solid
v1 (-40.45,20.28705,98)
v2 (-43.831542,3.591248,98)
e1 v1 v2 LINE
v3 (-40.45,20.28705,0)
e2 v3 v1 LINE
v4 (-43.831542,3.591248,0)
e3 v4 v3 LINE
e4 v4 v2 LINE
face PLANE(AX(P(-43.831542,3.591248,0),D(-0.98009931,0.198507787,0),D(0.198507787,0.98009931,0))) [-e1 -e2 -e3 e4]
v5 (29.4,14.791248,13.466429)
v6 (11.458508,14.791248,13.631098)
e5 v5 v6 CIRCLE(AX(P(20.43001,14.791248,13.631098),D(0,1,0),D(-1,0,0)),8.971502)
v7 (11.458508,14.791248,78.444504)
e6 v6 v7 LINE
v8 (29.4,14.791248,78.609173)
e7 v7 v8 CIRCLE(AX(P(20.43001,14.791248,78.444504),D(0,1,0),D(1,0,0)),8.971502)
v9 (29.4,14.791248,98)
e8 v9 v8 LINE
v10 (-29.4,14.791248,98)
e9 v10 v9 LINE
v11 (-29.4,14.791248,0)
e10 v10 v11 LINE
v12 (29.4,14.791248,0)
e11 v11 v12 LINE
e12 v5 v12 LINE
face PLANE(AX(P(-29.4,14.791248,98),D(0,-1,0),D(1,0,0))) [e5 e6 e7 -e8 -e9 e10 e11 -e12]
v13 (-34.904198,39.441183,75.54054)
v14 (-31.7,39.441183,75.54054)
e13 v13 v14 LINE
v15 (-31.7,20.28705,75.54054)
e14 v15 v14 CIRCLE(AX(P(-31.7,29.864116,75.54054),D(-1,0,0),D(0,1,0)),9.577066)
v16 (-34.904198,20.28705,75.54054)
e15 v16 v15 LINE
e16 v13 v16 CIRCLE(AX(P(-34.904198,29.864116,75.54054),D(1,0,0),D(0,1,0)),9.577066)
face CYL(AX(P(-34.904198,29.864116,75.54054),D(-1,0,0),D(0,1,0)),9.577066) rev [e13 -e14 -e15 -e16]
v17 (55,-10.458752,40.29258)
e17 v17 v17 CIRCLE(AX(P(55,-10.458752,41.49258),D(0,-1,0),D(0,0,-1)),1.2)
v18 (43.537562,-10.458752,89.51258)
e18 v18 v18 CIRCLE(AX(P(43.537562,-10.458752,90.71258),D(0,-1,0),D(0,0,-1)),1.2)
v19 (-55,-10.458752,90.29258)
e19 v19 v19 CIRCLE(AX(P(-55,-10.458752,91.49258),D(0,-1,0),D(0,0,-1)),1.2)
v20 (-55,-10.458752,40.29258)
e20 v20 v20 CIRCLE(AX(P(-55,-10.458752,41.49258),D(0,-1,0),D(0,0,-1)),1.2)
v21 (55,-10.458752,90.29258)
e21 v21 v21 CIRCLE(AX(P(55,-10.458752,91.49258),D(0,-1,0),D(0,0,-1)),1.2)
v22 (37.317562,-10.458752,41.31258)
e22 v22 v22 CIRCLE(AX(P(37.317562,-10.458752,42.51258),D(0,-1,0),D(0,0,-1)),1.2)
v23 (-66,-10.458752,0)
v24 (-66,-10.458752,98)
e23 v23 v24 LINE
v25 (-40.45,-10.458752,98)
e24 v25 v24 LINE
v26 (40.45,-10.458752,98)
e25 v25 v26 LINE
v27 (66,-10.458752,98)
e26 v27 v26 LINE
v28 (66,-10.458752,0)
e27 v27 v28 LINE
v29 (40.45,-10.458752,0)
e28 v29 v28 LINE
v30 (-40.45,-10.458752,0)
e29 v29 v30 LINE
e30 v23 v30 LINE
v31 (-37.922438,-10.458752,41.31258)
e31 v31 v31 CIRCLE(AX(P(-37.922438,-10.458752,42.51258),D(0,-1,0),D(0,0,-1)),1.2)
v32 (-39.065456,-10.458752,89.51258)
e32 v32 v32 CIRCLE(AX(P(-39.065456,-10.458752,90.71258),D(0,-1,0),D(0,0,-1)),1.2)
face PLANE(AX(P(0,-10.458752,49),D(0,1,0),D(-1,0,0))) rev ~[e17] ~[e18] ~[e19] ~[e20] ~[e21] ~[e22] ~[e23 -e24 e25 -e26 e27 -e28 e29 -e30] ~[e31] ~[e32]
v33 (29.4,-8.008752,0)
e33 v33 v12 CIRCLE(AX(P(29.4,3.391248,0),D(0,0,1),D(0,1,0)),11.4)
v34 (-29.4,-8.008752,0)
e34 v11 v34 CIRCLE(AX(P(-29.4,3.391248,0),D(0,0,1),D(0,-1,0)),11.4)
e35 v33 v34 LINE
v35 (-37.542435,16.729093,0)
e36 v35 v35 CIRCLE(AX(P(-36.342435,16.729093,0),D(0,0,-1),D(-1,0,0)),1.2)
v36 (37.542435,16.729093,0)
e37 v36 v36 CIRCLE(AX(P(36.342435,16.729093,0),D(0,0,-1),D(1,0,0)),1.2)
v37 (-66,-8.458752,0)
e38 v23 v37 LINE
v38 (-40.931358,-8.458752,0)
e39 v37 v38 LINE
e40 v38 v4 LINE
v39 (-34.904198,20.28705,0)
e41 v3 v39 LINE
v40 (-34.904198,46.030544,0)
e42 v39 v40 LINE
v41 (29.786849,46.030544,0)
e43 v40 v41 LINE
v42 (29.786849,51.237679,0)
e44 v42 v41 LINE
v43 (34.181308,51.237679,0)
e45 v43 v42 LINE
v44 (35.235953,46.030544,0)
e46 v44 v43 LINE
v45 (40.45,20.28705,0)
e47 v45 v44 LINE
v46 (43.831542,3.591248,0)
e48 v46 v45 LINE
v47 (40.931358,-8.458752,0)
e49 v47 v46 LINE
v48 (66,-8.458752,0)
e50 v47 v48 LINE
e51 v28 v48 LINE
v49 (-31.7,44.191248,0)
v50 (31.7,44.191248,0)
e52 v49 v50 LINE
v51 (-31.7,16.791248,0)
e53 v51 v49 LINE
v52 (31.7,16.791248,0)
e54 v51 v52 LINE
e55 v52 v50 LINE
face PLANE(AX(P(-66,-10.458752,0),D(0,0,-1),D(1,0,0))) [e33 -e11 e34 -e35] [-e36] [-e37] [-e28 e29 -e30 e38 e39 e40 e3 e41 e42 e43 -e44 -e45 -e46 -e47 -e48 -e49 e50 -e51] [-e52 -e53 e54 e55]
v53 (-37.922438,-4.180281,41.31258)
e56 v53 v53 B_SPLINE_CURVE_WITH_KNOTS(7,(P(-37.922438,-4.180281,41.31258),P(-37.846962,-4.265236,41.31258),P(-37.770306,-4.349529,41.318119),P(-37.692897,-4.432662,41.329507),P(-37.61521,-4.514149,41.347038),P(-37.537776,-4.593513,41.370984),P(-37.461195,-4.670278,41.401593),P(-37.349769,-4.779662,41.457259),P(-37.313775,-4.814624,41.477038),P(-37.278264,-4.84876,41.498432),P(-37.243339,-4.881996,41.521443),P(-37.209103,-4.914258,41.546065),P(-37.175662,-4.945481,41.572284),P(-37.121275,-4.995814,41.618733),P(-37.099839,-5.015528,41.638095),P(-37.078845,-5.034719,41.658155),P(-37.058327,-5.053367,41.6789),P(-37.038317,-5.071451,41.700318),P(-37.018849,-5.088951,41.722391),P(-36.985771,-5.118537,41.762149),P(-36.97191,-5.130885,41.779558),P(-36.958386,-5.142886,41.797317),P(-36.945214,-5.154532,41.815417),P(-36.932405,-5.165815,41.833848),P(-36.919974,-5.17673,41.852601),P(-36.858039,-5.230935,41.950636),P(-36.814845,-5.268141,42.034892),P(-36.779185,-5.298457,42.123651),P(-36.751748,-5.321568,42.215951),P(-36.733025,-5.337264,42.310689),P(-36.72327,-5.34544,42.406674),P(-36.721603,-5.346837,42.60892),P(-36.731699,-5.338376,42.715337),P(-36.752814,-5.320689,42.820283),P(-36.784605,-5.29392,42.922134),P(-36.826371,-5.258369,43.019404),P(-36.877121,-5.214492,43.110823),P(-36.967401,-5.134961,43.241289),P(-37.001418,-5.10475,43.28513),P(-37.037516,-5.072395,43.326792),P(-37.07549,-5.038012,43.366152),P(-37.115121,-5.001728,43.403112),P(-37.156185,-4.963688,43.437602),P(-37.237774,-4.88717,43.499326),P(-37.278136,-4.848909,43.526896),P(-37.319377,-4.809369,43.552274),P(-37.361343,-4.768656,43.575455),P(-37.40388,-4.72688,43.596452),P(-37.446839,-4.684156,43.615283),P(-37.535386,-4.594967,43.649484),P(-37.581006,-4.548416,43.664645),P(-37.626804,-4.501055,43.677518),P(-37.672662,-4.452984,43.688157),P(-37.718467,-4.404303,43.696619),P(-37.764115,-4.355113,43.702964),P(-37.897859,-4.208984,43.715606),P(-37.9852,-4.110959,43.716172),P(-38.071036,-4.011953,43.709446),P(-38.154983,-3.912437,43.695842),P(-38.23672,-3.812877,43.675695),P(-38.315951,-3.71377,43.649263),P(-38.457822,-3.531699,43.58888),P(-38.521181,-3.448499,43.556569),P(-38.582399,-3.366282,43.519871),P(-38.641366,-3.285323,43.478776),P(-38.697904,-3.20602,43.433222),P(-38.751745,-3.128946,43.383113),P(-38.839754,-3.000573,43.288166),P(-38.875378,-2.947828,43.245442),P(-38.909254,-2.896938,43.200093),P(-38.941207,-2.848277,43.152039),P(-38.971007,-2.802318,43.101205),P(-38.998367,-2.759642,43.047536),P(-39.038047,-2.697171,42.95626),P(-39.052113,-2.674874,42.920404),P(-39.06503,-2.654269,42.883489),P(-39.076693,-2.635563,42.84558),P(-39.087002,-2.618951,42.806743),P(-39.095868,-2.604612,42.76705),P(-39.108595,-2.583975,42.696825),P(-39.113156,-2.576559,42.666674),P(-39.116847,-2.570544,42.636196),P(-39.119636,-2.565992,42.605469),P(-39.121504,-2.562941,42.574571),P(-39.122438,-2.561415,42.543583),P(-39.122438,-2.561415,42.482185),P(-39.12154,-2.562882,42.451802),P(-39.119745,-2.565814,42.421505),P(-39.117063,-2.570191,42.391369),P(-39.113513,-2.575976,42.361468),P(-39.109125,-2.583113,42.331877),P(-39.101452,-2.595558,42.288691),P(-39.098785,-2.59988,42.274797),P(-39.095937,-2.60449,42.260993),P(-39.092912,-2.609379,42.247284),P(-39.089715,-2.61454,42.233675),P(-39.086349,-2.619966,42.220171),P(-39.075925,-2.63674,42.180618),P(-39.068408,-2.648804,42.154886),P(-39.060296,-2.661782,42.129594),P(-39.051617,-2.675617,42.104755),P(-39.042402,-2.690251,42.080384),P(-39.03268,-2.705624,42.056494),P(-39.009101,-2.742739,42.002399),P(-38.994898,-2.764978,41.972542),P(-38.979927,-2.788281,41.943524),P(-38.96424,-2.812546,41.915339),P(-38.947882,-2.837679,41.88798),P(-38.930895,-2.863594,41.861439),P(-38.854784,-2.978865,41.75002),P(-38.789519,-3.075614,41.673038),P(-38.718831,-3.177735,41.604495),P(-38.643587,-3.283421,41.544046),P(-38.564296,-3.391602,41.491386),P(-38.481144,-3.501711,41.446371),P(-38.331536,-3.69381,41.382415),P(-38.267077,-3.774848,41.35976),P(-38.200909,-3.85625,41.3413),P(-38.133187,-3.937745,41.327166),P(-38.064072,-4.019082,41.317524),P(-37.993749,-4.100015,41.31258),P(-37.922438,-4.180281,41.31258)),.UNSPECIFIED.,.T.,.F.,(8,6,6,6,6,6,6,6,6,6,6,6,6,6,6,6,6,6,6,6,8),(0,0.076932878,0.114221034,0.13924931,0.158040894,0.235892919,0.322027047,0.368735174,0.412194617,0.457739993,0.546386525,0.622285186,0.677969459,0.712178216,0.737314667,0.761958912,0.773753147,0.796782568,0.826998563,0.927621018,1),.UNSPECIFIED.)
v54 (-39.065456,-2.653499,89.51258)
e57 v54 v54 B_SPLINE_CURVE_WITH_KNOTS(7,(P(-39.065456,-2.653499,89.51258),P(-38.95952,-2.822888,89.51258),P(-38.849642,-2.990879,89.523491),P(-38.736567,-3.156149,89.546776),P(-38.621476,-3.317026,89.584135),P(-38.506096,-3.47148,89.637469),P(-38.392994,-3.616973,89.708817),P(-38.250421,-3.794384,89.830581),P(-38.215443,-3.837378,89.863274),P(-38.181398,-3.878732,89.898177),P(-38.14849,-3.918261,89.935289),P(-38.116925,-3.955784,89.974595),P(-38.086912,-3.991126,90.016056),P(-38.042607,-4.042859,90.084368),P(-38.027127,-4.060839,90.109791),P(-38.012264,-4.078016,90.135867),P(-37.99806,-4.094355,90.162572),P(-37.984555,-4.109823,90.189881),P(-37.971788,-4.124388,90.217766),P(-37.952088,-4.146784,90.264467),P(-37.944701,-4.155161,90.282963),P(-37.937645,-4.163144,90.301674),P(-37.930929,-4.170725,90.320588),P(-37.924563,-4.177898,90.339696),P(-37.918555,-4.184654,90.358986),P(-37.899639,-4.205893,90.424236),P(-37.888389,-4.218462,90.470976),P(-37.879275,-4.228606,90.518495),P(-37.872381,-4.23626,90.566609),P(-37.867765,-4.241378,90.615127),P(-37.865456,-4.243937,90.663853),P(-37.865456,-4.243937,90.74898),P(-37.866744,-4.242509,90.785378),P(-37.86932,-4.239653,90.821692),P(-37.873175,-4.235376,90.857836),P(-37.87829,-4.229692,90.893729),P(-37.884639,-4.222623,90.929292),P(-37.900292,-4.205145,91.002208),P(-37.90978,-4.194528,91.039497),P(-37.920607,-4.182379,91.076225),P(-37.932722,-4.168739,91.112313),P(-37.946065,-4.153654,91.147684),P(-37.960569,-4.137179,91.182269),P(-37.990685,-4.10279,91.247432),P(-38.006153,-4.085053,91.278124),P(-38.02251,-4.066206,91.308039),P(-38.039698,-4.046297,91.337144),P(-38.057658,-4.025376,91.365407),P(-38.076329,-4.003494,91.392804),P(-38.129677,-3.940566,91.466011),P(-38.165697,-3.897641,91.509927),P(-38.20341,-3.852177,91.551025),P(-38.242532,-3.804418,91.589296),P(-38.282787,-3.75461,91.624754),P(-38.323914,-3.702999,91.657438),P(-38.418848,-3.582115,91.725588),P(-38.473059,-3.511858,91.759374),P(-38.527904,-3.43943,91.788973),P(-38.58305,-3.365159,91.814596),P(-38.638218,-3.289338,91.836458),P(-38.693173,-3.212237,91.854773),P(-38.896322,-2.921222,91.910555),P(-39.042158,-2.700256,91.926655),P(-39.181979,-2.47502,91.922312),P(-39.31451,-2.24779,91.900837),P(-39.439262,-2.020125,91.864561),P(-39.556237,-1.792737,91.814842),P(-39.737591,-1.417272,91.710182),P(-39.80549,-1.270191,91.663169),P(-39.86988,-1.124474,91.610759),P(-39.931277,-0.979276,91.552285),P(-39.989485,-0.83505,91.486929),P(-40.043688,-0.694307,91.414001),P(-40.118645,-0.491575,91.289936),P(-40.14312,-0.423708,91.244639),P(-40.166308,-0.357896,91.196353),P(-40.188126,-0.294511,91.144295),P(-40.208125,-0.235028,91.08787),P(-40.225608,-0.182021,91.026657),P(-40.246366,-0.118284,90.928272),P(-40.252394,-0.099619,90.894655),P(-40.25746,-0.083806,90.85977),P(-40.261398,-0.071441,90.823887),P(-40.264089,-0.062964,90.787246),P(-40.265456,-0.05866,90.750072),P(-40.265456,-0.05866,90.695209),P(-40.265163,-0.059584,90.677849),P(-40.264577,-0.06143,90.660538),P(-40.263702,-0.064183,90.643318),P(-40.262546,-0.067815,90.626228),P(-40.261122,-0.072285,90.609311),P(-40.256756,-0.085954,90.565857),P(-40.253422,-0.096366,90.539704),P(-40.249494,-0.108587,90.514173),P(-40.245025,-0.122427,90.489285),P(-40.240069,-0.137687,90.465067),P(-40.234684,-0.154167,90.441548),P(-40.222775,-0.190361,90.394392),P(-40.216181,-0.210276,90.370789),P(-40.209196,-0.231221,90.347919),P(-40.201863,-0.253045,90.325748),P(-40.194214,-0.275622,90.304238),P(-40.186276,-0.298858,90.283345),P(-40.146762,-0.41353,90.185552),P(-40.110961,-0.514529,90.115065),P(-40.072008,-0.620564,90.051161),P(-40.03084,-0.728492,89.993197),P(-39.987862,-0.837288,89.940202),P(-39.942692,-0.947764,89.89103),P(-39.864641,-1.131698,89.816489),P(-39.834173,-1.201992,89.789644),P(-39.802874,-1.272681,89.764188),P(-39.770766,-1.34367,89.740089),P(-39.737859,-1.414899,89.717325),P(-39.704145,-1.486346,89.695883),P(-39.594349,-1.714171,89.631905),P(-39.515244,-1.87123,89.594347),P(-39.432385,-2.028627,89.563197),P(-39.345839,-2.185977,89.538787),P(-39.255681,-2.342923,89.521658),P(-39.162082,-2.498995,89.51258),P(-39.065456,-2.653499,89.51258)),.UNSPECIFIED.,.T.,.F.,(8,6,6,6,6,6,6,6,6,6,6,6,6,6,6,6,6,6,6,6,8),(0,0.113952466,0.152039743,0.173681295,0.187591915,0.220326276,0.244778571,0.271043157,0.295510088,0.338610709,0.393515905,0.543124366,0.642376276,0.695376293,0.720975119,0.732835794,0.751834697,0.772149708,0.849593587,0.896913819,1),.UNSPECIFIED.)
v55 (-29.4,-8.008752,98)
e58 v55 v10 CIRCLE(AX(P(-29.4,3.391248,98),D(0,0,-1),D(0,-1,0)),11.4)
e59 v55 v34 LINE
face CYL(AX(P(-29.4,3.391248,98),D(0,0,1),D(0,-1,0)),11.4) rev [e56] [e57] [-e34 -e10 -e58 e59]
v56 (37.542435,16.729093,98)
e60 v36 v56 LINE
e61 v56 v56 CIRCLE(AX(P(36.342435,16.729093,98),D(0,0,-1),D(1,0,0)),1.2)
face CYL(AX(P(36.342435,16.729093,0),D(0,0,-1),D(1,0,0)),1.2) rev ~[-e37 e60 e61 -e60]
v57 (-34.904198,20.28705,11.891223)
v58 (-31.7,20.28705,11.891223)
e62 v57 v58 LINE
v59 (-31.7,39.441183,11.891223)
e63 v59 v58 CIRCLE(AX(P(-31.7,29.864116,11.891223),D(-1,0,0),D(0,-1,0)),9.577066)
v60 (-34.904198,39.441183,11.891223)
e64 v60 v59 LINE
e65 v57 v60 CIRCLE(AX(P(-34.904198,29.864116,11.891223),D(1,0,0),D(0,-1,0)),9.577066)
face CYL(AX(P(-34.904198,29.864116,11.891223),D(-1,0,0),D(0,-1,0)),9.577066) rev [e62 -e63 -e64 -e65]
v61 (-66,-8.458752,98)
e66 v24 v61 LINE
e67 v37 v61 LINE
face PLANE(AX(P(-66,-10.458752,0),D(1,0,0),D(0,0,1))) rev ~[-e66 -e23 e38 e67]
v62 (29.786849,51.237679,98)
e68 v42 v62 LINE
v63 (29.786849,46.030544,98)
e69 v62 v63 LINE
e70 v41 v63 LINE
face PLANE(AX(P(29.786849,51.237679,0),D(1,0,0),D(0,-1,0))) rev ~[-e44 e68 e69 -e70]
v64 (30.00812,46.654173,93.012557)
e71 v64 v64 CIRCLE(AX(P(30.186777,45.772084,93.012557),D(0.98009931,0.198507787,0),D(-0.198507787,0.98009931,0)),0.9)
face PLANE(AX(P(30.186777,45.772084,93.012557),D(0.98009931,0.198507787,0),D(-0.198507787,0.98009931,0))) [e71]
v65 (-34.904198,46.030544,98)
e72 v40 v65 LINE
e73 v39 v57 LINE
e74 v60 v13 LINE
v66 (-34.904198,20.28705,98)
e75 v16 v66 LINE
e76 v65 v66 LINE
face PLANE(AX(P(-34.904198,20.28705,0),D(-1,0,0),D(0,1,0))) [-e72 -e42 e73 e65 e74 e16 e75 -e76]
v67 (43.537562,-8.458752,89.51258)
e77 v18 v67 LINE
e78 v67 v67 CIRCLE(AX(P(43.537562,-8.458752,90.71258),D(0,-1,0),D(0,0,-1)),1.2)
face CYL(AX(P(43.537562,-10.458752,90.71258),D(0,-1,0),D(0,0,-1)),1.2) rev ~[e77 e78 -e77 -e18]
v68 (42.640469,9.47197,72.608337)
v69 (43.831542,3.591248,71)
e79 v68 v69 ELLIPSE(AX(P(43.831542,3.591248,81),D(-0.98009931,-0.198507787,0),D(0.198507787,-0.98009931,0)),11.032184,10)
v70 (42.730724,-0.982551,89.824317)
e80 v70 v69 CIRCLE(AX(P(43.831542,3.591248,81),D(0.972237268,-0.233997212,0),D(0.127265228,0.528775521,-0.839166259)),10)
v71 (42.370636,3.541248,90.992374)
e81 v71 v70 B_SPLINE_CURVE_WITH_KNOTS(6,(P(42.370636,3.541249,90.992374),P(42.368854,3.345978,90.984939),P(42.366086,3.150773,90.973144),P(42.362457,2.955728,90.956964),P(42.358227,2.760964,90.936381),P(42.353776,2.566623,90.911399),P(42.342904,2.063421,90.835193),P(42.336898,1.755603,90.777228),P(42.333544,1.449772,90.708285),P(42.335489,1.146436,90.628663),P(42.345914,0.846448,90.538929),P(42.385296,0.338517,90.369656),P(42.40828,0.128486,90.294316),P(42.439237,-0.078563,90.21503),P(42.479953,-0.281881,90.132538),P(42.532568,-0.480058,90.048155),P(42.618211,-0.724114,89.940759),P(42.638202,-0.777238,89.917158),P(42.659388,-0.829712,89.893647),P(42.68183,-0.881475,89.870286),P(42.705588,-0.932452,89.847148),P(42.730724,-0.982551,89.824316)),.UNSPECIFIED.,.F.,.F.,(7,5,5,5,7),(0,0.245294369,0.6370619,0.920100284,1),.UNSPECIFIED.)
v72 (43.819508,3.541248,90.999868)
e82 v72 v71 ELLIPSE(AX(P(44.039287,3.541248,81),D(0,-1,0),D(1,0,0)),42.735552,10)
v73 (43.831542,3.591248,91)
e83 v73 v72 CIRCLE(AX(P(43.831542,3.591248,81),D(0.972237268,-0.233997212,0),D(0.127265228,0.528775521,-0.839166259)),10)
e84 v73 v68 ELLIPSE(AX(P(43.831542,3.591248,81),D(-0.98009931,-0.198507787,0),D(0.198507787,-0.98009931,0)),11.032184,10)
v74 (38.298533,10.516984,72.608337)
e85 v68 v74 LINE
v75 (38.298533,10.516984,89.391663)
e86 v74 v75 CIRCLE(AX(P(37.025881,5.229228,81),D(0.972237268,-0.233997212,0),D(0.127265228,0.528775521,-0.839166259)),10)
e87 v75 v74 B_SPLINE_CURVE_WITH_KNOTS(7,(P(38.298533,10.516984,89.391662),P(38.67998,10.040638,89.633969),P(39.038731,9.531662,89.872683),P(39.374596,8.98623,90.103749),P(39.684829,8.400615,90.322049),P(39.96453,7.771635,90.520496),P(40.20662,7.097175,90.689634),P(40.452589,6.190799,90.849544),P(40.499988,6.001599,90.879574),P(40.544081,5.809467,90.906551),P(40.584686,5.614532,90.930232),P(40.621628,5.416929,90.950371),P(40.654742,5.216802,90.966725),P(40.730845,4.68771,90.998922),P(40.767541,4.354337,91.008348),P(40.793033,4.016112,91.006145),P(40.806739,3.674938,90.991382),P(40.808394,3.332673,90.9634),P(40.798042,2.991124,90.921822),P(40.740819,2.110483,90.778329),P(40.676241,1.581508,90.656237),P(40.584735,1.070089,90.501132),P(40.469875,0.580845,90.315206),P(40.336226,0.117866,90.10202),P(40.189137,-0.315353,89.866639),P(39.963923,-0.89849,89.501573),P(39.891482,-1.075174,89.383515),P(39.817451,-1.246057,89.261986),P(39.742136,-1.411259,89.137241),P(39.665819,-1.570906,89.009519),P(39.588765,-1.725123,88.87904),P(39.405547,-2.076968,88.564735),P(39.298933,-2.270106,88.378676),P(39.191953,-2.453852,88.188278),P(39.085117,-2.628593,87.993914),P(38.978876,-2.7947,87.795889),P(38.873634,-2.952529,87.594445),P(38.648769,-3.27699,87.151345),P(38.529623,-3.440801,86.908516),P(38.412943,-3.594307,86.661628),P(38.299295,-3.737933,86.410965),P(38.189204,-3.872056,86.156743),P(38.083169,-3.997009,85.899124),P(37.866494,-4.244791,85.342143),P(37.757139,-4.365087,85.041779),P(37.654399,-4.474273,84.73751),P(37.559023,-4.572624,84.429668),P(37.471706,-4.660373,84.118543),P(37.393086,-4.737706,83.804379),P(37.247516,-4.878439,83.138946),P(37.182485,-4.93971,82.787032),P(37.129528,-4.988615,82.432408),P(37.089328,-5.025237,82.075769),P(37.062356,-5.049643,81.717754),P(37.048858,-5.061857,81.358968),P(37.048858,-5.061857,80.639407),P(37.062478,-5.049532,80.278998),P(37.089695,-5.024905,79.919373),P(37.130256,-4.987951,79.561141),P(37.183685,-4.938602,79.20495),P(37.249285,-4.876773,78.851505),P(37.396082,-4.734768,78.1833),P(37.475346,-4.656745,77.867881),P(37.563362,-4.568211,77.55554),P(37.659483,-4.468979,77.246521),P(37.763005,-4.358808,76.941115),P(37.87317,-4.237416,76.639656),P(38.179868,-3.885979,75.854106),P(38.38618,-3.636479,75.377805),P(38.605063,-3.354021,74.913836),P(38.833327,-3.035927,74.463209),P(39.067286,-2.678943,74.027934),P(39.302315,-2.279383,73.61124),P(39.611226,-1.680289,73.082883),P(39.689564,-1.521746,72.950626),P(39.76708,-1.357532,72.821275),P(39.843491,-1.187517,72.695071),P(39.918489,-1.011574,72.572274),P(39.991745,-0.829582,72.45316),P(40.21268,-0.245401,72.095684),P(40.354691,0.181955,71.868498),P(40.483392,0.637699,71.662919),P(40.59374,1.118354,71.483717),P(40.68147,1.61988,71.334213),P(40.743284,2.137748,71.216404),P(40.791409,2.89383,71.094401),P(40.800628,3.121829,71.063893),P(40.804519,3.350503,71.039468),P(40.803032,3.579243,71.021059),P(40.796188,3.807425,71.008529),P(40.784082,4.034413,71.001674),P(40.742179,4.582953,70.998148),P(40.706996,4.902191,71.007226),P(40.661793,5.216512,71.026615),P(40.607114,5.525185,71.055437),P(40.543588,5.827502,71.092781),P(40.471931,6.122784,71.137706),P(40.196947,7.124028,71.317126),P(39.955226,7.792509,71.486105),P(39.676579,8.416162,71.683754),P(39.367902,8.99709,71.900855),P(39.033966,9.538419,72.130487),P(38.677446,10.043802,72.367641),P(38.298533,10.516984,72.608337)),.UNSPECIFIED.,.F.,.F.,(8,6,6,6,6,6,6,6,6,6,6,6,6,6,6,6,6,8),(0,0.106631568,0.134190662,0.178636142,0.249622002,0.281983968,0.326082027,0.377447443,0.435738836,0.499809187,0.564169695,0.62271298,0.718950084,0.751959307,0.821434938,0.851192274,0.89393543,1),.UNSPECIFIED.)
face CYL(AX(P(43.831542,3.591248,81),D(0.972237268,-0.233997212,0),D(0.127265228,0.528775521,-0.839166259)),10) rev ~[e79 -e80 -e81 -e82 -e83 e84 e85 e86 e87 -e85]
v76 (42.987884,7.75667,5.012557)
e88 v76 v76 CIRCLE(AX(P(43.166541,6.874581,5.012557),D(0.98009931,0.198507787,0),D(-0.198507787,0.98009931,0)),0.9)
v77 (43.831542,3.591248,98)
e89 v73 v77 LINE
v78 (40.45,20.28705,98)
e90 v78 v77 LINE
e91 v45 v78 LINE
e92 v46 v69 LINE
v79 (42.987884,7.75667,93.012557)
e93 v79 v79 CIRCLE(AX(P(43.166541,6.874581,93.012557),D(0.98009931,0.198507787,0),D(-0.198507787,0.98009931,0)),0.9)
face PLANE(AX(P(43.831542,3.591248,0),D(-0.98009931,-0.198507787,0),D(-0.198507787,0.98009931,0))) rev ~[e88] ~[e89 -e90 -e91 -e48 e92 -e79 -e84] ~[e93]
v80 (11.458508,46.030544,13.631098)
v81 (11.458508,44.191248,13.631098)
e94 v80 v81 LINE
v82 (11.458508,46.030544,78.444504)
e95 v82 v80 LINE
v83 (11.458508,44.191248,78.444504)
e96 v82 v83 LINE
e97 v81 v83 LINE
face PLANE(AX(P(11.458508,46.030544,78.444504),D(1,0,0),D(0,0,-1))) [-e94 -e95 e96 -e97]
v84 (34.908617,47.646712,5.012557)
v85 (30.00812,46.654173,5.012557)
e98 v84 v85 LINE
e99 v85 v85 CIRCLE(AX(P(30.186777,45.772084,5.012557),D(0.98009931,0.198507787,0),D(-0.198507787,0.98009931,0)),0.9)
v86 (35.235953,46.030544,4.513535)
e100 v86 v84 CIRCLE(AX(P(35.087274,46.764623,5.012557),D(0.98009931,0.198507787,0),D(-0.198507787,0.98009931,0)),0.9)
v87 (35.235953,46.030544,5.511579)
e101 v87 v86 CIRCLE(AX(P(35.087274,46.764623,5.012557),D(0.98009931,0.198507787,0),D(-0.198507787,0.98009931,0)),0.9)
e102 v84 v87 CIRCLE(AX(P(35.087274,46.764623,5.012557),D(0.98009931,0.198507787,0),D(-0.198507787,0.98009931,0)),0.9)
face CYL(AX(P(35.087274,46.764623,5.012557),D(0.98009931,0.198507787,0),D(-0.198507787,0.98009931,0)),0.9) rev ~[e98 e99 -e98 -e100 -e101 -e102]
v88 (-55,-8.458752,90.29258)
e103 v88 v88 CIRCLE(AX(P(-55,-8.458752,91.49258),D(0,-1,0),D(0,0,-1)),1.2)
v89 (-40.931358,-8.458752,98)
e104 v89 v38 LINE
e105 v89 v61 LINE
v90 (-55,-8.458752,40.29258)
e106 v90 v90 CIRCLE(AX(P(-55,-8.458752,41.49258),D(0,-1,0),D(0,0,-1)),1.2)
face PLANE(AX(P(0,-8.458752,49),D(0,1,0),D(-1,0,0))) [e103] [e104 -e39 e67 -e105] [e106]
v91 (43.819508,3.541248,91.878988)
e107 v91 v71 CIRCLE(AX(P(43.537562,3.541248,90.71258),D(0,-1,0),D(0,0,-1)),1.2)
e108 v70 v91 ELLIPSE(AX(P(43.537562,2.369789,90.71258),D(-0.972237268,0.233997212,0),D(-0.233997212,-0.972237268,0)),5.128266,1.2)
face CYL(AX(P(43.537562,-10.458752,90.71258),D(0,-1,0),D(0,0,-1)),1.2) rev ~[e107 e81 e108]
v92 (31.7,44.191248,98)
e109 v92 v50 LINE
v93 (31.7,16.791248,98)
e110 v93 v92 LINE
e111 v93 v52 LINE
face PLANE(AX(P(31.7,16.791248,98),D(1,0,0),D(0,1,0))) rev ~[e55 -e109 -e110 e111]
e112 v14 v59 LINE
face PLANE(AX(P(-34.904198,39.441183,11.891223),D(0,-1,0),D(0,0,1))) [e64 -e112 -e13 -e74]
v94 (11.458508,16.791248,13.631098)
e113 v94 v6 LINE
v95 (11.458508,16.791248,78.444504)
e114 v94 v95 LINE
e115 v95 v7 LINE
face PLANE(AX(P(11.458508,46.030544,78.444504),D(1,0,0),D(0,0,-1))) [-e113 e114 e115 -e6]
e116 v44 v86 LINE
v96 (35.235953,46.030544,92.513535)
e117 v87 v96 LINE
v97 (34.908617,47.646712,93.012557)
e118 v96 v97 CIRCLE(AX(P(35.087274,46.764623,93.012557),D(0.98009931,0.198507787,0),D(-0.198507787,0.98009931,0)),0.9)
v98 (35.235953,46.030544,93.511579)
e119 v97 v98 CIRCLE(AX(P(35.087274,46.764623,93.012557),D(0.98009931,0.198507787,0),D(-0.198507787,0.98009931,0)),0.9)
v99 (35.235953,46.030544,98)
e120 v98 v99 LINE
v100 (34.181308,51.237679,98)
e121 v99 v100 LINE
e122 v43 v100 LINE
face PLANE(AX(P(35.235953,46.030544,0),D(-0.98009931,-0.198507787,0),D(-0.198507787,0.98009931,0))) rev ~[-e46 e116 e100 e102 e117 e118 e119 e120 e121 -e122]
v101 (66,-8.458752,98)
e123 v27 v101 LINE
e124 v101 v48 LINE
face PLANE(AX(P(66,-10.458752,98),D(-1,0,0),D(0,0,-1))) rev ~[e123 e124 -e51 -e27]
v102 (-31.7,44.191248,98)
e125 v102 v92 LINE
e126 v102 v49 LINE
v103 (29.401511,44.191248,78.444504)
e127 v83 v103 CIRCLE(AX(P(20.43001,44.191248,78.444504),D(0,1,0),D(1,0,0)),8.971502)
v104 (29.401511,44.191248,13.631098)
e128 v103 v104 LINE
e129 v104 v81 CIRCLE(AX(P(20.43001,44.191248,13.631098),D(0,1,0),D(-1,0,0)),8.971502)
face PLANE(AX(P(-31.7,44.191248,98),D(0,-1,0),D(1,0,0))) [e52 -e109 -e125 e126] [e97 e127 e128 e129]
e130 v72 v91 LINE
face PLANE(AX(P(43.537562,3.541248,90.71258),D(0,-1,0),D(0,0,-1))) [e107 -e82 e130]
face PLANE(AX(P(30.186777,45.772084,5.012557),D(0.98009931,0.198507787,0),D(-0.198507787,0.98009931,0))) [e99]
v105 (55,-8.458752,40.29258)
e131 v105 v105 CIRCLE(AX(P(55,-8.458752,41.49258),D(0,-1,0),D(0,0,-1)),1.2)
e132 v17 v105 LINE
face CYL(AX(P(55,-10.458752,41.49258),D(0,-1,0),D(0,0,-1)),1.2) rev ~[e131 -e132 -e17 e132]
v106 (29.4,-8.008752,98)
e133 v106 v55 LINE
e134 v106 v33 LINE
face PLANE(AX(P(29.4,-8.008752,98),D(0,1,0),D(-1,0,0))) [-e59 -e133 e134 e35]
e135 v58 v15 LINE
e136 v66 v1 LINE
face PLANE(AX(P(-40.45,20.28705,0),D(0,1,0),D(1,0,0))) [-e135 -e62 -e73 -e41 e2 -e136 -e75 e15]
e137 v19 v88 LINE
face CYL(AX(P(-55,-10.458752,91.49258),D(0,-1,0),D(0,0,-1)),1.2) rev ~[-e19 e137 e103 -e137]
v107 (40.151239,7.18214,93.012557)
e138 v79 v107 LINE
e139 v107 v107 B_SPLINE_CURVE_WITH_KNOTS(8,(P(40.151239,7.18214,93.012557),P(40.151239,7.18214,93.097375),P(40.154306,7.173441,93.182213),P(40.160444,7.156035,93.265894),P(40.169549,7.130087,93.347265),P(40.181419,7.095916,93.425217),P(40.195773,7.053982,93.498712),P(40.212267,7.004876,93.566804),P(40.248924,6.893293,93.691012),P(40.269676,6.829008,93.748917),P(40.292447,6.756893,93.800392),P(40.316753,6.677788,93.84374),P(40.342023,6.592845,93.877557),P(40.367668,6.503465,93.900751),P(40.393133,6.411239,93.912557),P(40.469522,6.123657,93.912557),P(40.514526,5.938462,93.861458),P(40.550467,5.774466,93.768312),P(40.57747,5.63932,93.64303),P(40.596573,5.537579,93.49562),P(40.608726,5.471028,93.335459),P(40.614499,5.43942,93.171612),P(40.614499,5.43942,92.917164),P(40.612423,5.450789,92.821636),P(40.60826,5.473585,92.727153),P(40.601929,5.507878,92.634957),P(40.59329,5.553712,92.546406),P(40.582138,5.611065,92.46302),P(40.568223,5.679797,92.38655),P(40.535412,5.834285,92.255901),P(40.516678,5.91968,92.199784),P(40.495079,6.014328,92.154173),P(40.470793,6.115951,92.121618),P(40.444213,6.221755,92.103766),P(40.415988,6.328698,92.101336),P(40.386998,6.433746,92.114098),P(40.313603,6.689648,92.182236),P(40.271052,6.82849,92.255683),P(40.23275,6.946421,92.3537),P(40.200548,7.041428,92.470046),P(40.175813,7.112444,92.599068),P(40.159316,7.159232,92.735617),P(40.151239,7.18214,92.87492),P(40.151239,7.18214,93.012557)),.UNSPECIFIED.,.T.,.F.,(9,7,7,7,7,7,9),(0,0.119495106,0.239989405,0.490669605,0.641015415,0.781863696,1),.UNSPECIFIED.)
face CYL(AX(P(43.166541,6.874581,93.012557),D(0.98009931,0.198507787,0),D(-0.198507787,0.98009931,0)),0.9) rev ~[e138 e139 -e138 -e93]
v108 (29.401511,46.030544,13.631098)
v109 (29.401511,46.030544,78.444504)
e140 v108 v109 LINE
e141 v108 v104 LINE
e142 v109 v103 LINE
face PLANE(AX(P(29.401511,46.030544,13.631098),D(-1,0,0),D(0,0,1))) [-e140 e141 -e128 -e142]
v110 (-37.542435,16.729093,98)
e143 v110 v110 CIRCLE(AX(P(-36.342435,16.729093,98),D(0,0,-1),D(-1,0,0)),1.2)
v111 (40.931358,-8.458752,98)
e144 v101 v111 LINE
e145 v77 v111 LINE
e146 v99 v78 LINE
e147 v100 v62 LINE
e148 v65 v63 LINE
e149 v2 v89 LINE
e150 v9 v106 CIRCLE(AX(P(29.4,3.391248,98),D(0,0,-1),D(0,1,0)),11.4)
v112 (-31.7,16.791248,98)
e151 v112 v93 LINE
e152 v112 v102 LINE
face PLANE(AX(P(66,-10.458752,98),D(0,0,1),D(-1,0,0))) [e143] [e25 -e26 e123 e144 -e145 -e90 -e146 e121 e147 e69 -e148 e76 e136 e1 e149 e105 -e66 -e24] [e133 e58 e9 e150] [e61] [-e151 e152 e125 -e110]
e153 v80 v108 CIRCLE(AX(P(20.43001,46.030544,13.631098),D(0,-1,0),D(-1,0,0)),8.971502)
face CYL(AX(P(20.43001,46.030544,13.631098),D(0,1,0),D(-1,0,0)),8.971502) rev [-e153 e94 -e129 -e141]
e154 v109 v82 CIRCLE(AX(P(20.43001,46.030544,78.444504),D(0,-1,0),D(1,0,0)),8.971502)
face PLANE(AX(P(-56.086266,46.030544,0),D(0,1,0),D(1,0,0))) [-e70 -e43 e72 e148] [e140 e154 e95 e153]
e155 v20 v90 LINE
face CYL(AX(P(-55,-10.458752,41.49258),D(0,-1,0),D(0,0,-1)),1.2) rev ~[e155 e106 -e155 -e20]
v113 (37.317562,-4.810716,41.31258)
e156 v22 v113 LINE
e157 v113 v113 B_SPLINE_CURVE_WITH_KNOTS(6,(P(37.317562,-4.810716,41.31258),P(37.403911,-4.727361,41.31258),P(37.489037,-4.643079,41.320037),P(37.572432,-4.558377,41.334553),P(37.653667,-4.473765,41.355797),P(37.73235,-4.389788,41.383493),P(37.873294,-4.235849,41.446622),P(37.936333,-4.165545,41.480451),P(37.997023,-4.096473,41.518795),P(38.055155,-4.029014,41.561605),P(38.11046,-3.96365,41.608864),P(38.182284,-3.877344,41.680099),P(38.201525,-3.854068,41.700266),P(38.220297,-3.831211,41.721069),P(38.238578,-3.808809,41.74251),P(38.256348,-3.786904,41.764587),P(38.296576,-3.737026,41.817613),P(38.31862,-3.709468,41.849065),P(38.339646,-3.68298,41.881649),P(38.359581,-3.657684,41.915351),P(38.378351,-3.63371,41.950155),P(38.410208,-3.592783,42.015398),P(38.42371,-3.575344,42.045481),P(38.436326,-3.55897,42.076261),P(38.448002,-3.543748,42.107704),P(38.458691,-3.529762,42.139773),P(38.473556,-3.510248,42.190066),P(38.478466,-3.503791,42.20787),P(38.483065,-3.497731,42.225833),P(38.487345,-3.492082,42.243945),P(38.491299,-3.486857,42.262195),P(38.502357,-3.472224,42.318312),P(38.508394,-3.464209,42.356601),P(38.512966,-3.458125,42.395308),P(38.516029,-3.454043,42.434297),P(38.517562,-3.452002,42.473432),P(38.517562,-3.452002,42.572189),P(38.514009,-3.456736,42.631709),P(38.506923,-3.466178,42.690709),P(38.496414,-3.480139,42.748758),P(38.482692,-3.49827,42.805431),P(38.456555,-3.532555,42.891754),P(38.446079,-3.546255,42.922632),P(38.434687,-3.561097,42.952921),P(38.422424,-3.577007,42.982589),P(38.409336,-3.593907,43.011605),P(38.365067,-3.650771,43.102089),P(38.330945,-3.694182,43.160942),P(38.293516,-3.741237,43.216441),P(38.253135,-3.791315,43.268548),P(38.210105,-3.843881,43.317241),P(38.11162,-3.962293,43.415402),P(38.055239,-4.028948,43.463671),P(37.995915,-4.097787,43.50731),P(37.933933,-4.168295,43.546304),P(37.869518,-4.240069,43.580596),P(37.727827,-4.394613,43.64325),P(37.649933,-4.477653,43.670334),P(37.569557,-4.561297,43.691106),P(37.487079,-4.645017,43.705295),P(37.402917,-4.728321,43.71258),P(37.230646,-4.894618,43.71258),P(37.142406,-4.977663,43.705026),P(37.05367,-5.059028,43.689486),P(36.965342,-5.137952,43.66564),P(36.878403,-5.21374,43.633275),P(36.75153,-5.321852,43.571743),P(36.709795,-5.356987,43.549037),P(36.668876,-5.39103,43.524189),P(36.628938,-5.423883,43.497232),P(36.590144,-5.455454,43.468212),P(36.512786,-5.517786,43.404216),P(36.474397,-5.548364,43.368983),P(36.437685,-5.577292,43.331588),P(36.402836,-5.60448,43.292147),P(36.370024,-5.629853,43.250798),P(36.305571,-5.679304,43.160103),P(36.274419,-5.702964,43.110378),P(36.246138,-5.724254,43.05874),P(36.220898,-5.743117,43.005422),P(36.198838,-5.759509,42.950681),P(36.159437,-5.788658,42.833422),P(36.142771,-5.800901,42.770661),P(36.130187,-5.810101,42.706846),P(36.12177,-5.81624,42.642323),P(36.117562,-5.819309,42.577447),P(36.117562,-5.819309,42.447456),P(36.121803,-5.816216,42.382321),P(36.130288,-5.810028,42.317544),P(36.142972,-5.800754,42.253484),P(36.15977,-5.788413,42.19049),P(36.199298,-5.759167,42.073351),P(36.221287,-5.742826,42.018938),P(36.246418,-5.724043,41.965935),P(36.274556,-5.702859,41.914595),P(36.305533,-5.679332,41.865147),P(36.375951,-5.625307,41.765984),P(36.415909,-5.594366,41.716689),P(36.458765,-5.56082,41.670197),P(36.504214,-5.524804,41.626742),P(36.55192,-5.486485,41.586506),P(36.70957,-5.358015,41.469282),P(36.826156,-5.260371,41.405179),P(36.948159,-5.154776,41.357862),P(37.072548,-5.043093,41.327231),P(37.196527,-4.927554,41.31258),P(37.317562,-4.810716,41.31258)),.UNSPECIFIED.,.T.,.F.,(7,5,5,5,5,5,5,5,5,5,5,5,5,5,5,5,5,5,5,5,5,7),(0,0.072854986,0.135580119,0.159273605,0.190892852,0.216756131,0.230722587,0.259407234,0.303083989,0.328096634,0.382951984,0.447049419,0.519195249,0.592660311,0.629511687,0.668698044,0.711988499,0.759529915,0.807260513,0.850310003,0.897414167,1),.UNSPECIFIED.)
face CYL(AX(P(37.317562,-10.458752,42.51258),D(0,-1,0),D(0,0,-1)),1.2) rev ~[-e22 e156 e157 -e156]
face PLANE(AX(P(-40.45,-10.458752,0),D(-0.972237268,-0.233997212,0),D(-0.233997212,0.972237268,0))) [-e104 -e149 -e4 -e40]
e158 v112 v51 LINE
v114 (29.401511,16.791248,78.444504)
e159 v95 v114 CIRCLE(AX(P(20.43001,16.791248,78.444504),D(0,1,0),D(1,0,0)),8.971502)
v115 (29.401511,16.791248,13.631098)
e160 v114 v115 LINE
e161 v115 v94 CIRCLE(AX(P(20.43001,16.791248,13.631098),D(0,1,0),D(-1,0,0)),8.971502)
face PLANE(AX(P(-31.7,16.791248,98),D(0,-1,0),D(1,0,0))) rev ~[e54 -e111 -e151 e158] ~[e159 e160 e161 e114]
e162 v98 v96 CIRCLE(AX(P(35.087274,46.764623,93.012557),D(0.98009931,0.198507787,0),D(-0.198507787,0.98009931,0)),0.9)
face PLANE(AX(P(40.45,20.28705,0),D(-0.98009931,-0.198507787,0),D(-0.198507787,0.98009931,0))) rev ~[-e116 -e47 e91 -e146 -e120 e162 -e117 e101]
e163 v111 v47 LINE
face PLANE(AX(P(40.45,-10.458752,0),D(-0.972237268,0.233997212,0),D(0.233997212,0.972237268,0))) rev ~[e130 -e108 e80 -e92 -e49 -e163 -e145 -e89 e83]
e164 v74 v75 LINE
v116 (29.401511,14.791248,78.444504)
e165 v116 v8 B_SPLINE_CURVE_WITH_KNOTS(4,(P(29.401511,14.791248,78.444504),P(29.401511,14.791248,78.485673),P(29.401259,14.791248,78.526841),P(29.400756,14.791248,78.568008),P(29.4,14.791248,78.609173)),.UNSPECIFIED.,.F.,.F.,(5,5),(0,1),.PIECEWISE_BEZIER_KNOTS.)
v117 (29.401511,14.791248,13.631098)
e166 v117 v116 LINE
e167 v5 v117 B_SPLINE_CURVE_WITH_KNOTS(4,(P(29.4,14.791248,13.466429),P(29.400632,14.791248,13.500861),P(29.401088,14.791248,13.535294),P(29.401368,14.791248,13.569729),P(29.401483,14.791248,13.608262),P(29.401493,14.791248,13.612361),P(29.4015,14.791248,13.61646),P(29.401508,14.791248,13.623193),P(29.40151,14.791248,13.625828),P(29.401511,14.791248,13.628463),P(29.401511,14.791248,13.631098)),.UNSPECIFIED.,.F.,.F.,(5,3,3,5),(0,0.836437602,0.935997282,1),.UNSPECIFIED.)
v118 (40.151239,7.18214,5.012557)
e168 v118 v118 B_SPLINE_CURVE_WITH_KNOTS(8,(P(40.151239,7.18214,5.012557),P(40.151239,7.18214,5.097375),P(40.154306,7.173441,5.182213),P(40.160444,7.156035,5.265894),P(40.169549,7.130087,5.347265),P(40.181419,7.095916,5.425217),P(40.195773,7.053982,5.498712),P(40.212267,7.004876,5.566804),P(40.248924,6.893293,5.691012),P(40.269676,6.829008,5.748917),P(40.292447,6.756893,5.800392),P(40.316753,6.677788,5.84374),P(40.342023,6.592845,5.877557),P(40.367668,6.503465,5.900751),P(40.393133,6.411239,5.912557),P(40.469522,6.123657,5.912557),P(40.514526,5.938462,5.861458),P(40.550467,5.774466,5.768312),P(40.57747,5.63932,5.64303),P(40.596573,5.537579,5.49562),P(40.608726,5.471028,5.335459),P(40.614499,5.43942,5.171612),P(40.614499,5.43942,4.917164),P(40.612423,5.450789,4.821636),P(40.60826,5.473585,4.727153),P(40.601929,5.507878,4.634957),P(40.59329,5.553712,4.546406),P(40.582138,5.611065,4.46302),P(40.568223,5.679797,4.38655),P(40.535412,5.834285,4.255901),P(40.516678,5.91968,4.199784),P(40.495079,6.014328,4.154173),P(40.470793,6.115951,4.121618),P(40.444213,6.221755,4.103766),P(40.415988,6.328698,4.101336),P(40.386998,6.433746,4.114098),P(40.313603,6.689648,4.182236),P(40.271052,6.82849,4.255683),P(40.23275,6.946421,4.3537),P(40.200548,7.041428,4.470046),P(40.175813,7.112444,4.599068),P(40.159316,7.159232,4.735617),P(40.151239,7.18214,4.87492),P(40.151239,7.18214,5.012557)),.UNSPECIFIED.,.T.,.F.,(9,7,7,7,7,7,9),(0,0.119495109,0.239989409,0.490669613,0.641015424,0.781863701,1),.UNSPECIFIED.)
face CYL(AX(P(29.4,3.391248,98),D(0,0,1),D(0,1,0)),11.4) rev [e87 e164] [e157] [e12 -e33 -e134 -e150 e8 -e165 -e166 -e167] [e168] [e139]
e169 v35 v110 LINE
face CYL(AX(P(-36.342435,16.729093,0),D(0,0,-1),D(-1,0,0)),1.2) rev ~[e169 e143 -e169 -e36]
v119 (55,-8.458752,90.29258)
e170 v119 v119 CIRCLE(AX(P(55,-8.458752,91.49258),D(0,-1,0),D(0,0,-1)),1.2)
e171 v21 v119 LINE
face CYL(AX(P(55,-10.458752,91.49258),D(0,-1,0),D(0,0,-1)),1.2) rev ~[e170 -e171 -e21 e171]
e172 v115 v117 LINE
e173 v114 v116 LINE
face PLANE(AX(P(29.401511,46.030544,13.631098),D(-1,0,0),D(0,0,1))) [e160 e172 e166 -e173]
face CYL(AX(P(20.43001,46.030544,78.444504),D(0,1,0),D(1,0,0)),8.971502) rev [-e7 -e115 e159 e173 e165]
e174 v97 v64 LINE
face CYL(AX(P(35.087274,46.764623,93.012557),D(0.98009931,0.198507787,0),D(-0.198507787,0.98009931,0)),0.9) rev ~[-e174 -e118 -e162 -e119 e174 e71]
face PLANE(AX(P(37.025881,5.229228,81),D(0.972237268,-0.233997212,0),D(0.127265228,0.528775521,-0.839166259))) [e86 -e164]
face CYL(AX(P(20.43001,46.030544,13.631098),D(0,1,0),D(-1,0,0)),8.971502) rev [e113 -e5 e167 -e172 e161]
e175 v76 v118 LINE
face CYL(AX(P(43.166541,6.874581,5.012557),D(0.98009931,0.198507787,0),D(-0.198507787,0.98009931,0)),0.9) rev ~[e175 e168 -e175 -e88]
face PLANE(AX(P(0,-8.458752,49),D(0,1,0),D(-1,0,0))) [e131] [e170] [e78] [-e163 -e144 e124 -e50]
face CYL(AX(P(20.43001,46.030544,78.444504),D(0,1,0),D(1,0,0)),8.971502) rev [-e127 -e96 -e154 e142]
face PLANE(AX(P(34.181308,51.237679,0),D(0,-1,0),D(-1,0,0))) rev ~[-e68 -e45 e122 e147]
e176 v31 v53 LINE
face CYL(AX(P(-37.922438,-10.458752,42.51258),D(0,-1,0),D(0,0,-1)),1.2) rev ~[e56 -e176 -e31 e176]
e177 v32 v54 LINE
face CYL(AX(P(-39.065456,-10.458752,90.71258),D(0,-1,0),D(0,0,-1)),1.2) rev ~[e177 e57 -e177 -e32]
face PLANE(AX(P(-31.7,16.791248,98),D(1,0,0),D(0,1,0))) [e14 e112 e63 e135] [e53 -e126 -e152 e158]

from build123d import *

# Parameters (mm, degrees)
ESQUISSE1_W              = 112.172532808
ESQUISSE1_H              = 92.061088164
BOSS_EXTRU_1_DEPTH       = 98
ESQUISSE2_W              = 63.4
ESQUISSE2_H              = 27.4
ENL_V_MAT_EXTRU_1_DEPTH  = 122.93637795
ENL_V_MAT_EXTRU_2_DEPTH  = 122.93637795
ESQUISSE8_R              = 1.2
ENL_V_MAT_EXTRU_5_DEPTH  = 122.93637795
ENL_V_MAT_EXTRU_10_DEPTH = 36
BOSS_EXTRU_2_DEPTH       = 98
ESQUISSE15_R             = 0.9
ENL_V_MAT_EXTRU_11_DEPTH = 5
ENL_V_MAT_EXTRU_13_DEPTH = 33
ESQUISSE18_R             = 10
ENL_V_MAT_EXTRU_14_DEPTH = 7
ESQUISSE19_W             = 80.9
ESQUISSE19_H             = 35.571792003
ENL_V_MAT_EXTRU_15_DEPTH = 119.955890106
BOSS_EXTRU_3_DEPTH       = 2
ESQUISSE22_R             = 1.2
ENL_V_MAT_EXTRU_16_DEPTH = 14


with BuildPart() as part:
    # Esquisse1 → Boss.-Extru.1 (new body)
    with BuildSketch(Plane.XY):
        Rectangle(ESQUISSE1_W, ESQUISSE1_H)
    extrude(amount=BOSS_EXTRU_1_DEPTH)

    # Esquisse2 → Enlèv. mat.-Extru.1 (cut, through all)
    with BuildSketch(Plane.XY.offset(98)):
        with Locations((0, 30.491247921)):
            Rectangle(ESQUISSE2_W, ESQUISSE2_H)
    extrude(amount=-ENL_V_MAT_EXTRU_1_DEPTH, mode=Mode.SUBTRACT)

    # Esquisse3 → Enlèv. mat.-Extru.2 (cut, through all)
    with BuildSketch(Plane.XY.offset(98)):
        with BuildLine():
            Line((-29.4, 14.791247921), (29.4, 14.791247921))
            ThreePointArc((29.4, 14.791247921), (40.8, 3.391247921), (29.4, -8.008752079))
            Line((29.4, -8.008752079), (-29.4, -8.008752079))
            ThreePointArc((-29.4, -8.008752079), (-40.8, 3.391247921), (-29.4, 14.791247921))
        make_face()
    extrude(amount=-ENL_V_MAT_EXTRU_2_DEPTH, mode=Mode.SUBTRACT)

    # Esquisse8 → Enlèv. mat.-Extru.5 (cut, through all)
    with BuildSketch(Plane(origin=(0, 0, 0), x_dir=(-1, 0, 0), z_dir=(0, 0, -1))):
        with Locations((36.342435472, 16.729092577)):
            Circle(ESQUISSE8_R)
        with Locations(Location((-36.342435472, 16.729092577, 0), (0, 0, 180))):
            Circle(ESQUISSE8_R)
        Polygon((40.45, -46.030544082), (40.45, -10.458752079), (43.831541667, 3.591247921), (40.45, 20.287049631), (34.90419829, 20.287049631), (34.90419829, 46.030544082), (56.086266404, 46.030544082), (56.086266404, -46.030544082), align=None)
        Polygon((-40.45, -46.030544082), (-40.45, -10.458752079), (-43.831541667, 3.591247921), (-40.45, 20.287049631), (-35.235952742, 46.030544082), (-56.086266404, 46.030544082), (-56.086266404, -46.030544082), align=None)
    extrude(amount=-ENL_V_MAT_EXTRU_5_DEPTH, mode=Mode.SUBTRACT)

    # Esquisse13 → Enlèv. mat.-Extru.10 (cut)
    with BuildSketch(Plane(origin=(0, 46.030544082, 0), x_dir=(1, 0, 0), z_dir=(0, 1, 0))):
        with BuildLine():
            Line((29.401511347, -13.631097944), (29.401511347, -78.444504203))
            ThreePointArc((29.401511347, -78.444504203), (20.430009822, -87.416005728), (11.458508297, -78.444504203))
            Line((11.458508297, -78.444504203), (11.458508297, -13.631097944))
            ThreePointArc((11.458508297, -13.631097944), (20.430009822, -4.659596419), (29.401511347, -13.631097944))
        make_face()
    extrude(amount=-ENL_V_MAT_EXTRU_10_DEPTH, mode=Mode.SUBTRACT)

    # Esquisse14 → Boss.-Extru.2 (add, through all)
    with BuildSketch(Plane(origin=(0, 0, 0), x_dir=(-1, 0, 0), z_dir=(0, 0, -1))):
        Polygon((-35.235952742, 46.030544082), (-34.181307811, 51.237678691), (-29.786849485, 51.237678691), (-29.786849485, 46.030544082), align=None)
    extrude(amount=-BOSS_EXTRU_2_DEPTH)

    # Esquisse15 → Enlèv. mat.-Extru.11 (cut)
    with BuildSketch(Plane(origin=(42.803048455, 8.669262748, 0), x_dir=(0, 0, -1), z_dir=(0.980099310455717, 0.19850778736419453, 0))):
        with Locations(Location((-5.012556966, -1.831122741, 0), (0, 0, 90))):
            Circle(ESQUISSE15_R)
        with Locations(Location((-5.012556966, 38.868877259, 0), (0, 0, 90))):
            Circle(ESQUISSE15_R)
        with Locations(Location((-93.012556966, -1.831122741, 0), (0, 0, 90))):
            Circle(ESQUISSE15_R)
        with Locations(Location((-93.012556966, 38.868877259, 0), (0, 0, 90))):
            Circle(ESQUISSE15_R)
    extrude(amount=-ENL_V_MAT_EXTRU_11_DEPTH, mode=Mode.SUBTRACT)

    # Esquisse17 → Enlèv. mat.-Extru.13 (cut)
    with BuildSketch(Plane.ZY.offset(34.90419829)):
        with BuildLine():
            Line((11.891222977, 39.441182616), (75.540539517, 39.441182616))
            ThreePointArc((75.540539517, 39.441182616), (85.11760601, 29.864116124), (75.540539517, 20.287049631))
            Line((75.540539517, 20.287049631), (11.891222977, 20.287049631))
            ThreePointArc((11.891222977, 20.287049631), (2.314156484, 29.864116124), (11.891222977, 39.441182616))
        make_face()
    extrude(amount=-ENL_V_MAT_EXTRU_13_DEPTH, mode=Mode.SUBTRACT)

    # Esquisse18 → Enlèv. mat.-Extru.14 (cut)
    with BuildSketch(Plane(origin=(40.614547147, -9.775073555, 0), x_dir=(0, 0, -1), z_dir=(0.9722372677043548, -0.23399721213461214, 0))):
        with Locations(Location((-81, 13.74800362, 0), (0, 0, 32.947816907))):
            Circle(ESQUISSE18_R)
    extrude(amount=-ENL_V_MAT_EXTRU_14_DEPTH, mode=Mode.SUBTRACT)

    # Esquisse19 → Enlèv. mat.-Extru.15 (cut, through all)
    with BuildSketch(Plane(origin=(0, 0, 0), x_dir=(-1, 0, 0), z_dir=(0, 0, -1))):
        with Locations((0, -28.244648081)):
            Rectangle(ESQUISSE19_W, ESQUISSE19_H)
    extrude(amount=-ENL_V_MAT_EXTRU_15_DEPTH, mode=Mode.SUBTRACT)

    # Esquisse21 → Boss.-Extru.3 (add)
    with BuildSketch(Plane.XZ.offset(10.458752079)):
        Polygon((-40.45, 98), (40.45, 98), (66, 98), (66, 0), (40.45, 0), (-40.45, 0), (-66, 0), (-66, 98), align=None)
    extrude(amount=-BOSS_EXTRU_3_DEPTH)

    # Esquisse22 → Enlèv. mat.-Extru.16 (cut)
    with BuildSketch(Plane.XZ.offset(10.458752079)):
        with Locations(Location((43.537561985, 90.712580413, 0), (0, 0, 270))):
            Circle(ESQUISSE22_R)
        with Locations(Location((55, 91.492580413, 0), (0, 0, 270))):
            Circle(ESQUISSE22_R)
        with Locations(Location((37.317561985, 42.512580413, 0), (0, 0, 270))):
            Circle(ESQUISSE22_R)
        with Locations(Location((55, 41.492580413, 0), (0, 0, 270))):
            Circle(ESQUISSE22_R)
        with Locations(Location((-55, 41.492580413, 0), (0, 0, 270))):
            Circle(ESQUISSE22_R)
        with Locations(Location((-37.922438015, 42.512580413, 0), (0, 0, 270))):
            Circle(ESQUISSE22_R)
        with Locations(Location((-55, 91.492580413, 0), (0, 0, 270))):
            Circle(ESQUISSE22_R)
        with Locations(Location((-39.065455989, 90.712580413, 0), (0, 0, 270))):
            Circle(ESQUISSE22_R)
    extrude(amount=-ENL_V_MAT_EXTRU_16_DEPTH, mode=Mode.SUBTRACT)


solid = part.part
